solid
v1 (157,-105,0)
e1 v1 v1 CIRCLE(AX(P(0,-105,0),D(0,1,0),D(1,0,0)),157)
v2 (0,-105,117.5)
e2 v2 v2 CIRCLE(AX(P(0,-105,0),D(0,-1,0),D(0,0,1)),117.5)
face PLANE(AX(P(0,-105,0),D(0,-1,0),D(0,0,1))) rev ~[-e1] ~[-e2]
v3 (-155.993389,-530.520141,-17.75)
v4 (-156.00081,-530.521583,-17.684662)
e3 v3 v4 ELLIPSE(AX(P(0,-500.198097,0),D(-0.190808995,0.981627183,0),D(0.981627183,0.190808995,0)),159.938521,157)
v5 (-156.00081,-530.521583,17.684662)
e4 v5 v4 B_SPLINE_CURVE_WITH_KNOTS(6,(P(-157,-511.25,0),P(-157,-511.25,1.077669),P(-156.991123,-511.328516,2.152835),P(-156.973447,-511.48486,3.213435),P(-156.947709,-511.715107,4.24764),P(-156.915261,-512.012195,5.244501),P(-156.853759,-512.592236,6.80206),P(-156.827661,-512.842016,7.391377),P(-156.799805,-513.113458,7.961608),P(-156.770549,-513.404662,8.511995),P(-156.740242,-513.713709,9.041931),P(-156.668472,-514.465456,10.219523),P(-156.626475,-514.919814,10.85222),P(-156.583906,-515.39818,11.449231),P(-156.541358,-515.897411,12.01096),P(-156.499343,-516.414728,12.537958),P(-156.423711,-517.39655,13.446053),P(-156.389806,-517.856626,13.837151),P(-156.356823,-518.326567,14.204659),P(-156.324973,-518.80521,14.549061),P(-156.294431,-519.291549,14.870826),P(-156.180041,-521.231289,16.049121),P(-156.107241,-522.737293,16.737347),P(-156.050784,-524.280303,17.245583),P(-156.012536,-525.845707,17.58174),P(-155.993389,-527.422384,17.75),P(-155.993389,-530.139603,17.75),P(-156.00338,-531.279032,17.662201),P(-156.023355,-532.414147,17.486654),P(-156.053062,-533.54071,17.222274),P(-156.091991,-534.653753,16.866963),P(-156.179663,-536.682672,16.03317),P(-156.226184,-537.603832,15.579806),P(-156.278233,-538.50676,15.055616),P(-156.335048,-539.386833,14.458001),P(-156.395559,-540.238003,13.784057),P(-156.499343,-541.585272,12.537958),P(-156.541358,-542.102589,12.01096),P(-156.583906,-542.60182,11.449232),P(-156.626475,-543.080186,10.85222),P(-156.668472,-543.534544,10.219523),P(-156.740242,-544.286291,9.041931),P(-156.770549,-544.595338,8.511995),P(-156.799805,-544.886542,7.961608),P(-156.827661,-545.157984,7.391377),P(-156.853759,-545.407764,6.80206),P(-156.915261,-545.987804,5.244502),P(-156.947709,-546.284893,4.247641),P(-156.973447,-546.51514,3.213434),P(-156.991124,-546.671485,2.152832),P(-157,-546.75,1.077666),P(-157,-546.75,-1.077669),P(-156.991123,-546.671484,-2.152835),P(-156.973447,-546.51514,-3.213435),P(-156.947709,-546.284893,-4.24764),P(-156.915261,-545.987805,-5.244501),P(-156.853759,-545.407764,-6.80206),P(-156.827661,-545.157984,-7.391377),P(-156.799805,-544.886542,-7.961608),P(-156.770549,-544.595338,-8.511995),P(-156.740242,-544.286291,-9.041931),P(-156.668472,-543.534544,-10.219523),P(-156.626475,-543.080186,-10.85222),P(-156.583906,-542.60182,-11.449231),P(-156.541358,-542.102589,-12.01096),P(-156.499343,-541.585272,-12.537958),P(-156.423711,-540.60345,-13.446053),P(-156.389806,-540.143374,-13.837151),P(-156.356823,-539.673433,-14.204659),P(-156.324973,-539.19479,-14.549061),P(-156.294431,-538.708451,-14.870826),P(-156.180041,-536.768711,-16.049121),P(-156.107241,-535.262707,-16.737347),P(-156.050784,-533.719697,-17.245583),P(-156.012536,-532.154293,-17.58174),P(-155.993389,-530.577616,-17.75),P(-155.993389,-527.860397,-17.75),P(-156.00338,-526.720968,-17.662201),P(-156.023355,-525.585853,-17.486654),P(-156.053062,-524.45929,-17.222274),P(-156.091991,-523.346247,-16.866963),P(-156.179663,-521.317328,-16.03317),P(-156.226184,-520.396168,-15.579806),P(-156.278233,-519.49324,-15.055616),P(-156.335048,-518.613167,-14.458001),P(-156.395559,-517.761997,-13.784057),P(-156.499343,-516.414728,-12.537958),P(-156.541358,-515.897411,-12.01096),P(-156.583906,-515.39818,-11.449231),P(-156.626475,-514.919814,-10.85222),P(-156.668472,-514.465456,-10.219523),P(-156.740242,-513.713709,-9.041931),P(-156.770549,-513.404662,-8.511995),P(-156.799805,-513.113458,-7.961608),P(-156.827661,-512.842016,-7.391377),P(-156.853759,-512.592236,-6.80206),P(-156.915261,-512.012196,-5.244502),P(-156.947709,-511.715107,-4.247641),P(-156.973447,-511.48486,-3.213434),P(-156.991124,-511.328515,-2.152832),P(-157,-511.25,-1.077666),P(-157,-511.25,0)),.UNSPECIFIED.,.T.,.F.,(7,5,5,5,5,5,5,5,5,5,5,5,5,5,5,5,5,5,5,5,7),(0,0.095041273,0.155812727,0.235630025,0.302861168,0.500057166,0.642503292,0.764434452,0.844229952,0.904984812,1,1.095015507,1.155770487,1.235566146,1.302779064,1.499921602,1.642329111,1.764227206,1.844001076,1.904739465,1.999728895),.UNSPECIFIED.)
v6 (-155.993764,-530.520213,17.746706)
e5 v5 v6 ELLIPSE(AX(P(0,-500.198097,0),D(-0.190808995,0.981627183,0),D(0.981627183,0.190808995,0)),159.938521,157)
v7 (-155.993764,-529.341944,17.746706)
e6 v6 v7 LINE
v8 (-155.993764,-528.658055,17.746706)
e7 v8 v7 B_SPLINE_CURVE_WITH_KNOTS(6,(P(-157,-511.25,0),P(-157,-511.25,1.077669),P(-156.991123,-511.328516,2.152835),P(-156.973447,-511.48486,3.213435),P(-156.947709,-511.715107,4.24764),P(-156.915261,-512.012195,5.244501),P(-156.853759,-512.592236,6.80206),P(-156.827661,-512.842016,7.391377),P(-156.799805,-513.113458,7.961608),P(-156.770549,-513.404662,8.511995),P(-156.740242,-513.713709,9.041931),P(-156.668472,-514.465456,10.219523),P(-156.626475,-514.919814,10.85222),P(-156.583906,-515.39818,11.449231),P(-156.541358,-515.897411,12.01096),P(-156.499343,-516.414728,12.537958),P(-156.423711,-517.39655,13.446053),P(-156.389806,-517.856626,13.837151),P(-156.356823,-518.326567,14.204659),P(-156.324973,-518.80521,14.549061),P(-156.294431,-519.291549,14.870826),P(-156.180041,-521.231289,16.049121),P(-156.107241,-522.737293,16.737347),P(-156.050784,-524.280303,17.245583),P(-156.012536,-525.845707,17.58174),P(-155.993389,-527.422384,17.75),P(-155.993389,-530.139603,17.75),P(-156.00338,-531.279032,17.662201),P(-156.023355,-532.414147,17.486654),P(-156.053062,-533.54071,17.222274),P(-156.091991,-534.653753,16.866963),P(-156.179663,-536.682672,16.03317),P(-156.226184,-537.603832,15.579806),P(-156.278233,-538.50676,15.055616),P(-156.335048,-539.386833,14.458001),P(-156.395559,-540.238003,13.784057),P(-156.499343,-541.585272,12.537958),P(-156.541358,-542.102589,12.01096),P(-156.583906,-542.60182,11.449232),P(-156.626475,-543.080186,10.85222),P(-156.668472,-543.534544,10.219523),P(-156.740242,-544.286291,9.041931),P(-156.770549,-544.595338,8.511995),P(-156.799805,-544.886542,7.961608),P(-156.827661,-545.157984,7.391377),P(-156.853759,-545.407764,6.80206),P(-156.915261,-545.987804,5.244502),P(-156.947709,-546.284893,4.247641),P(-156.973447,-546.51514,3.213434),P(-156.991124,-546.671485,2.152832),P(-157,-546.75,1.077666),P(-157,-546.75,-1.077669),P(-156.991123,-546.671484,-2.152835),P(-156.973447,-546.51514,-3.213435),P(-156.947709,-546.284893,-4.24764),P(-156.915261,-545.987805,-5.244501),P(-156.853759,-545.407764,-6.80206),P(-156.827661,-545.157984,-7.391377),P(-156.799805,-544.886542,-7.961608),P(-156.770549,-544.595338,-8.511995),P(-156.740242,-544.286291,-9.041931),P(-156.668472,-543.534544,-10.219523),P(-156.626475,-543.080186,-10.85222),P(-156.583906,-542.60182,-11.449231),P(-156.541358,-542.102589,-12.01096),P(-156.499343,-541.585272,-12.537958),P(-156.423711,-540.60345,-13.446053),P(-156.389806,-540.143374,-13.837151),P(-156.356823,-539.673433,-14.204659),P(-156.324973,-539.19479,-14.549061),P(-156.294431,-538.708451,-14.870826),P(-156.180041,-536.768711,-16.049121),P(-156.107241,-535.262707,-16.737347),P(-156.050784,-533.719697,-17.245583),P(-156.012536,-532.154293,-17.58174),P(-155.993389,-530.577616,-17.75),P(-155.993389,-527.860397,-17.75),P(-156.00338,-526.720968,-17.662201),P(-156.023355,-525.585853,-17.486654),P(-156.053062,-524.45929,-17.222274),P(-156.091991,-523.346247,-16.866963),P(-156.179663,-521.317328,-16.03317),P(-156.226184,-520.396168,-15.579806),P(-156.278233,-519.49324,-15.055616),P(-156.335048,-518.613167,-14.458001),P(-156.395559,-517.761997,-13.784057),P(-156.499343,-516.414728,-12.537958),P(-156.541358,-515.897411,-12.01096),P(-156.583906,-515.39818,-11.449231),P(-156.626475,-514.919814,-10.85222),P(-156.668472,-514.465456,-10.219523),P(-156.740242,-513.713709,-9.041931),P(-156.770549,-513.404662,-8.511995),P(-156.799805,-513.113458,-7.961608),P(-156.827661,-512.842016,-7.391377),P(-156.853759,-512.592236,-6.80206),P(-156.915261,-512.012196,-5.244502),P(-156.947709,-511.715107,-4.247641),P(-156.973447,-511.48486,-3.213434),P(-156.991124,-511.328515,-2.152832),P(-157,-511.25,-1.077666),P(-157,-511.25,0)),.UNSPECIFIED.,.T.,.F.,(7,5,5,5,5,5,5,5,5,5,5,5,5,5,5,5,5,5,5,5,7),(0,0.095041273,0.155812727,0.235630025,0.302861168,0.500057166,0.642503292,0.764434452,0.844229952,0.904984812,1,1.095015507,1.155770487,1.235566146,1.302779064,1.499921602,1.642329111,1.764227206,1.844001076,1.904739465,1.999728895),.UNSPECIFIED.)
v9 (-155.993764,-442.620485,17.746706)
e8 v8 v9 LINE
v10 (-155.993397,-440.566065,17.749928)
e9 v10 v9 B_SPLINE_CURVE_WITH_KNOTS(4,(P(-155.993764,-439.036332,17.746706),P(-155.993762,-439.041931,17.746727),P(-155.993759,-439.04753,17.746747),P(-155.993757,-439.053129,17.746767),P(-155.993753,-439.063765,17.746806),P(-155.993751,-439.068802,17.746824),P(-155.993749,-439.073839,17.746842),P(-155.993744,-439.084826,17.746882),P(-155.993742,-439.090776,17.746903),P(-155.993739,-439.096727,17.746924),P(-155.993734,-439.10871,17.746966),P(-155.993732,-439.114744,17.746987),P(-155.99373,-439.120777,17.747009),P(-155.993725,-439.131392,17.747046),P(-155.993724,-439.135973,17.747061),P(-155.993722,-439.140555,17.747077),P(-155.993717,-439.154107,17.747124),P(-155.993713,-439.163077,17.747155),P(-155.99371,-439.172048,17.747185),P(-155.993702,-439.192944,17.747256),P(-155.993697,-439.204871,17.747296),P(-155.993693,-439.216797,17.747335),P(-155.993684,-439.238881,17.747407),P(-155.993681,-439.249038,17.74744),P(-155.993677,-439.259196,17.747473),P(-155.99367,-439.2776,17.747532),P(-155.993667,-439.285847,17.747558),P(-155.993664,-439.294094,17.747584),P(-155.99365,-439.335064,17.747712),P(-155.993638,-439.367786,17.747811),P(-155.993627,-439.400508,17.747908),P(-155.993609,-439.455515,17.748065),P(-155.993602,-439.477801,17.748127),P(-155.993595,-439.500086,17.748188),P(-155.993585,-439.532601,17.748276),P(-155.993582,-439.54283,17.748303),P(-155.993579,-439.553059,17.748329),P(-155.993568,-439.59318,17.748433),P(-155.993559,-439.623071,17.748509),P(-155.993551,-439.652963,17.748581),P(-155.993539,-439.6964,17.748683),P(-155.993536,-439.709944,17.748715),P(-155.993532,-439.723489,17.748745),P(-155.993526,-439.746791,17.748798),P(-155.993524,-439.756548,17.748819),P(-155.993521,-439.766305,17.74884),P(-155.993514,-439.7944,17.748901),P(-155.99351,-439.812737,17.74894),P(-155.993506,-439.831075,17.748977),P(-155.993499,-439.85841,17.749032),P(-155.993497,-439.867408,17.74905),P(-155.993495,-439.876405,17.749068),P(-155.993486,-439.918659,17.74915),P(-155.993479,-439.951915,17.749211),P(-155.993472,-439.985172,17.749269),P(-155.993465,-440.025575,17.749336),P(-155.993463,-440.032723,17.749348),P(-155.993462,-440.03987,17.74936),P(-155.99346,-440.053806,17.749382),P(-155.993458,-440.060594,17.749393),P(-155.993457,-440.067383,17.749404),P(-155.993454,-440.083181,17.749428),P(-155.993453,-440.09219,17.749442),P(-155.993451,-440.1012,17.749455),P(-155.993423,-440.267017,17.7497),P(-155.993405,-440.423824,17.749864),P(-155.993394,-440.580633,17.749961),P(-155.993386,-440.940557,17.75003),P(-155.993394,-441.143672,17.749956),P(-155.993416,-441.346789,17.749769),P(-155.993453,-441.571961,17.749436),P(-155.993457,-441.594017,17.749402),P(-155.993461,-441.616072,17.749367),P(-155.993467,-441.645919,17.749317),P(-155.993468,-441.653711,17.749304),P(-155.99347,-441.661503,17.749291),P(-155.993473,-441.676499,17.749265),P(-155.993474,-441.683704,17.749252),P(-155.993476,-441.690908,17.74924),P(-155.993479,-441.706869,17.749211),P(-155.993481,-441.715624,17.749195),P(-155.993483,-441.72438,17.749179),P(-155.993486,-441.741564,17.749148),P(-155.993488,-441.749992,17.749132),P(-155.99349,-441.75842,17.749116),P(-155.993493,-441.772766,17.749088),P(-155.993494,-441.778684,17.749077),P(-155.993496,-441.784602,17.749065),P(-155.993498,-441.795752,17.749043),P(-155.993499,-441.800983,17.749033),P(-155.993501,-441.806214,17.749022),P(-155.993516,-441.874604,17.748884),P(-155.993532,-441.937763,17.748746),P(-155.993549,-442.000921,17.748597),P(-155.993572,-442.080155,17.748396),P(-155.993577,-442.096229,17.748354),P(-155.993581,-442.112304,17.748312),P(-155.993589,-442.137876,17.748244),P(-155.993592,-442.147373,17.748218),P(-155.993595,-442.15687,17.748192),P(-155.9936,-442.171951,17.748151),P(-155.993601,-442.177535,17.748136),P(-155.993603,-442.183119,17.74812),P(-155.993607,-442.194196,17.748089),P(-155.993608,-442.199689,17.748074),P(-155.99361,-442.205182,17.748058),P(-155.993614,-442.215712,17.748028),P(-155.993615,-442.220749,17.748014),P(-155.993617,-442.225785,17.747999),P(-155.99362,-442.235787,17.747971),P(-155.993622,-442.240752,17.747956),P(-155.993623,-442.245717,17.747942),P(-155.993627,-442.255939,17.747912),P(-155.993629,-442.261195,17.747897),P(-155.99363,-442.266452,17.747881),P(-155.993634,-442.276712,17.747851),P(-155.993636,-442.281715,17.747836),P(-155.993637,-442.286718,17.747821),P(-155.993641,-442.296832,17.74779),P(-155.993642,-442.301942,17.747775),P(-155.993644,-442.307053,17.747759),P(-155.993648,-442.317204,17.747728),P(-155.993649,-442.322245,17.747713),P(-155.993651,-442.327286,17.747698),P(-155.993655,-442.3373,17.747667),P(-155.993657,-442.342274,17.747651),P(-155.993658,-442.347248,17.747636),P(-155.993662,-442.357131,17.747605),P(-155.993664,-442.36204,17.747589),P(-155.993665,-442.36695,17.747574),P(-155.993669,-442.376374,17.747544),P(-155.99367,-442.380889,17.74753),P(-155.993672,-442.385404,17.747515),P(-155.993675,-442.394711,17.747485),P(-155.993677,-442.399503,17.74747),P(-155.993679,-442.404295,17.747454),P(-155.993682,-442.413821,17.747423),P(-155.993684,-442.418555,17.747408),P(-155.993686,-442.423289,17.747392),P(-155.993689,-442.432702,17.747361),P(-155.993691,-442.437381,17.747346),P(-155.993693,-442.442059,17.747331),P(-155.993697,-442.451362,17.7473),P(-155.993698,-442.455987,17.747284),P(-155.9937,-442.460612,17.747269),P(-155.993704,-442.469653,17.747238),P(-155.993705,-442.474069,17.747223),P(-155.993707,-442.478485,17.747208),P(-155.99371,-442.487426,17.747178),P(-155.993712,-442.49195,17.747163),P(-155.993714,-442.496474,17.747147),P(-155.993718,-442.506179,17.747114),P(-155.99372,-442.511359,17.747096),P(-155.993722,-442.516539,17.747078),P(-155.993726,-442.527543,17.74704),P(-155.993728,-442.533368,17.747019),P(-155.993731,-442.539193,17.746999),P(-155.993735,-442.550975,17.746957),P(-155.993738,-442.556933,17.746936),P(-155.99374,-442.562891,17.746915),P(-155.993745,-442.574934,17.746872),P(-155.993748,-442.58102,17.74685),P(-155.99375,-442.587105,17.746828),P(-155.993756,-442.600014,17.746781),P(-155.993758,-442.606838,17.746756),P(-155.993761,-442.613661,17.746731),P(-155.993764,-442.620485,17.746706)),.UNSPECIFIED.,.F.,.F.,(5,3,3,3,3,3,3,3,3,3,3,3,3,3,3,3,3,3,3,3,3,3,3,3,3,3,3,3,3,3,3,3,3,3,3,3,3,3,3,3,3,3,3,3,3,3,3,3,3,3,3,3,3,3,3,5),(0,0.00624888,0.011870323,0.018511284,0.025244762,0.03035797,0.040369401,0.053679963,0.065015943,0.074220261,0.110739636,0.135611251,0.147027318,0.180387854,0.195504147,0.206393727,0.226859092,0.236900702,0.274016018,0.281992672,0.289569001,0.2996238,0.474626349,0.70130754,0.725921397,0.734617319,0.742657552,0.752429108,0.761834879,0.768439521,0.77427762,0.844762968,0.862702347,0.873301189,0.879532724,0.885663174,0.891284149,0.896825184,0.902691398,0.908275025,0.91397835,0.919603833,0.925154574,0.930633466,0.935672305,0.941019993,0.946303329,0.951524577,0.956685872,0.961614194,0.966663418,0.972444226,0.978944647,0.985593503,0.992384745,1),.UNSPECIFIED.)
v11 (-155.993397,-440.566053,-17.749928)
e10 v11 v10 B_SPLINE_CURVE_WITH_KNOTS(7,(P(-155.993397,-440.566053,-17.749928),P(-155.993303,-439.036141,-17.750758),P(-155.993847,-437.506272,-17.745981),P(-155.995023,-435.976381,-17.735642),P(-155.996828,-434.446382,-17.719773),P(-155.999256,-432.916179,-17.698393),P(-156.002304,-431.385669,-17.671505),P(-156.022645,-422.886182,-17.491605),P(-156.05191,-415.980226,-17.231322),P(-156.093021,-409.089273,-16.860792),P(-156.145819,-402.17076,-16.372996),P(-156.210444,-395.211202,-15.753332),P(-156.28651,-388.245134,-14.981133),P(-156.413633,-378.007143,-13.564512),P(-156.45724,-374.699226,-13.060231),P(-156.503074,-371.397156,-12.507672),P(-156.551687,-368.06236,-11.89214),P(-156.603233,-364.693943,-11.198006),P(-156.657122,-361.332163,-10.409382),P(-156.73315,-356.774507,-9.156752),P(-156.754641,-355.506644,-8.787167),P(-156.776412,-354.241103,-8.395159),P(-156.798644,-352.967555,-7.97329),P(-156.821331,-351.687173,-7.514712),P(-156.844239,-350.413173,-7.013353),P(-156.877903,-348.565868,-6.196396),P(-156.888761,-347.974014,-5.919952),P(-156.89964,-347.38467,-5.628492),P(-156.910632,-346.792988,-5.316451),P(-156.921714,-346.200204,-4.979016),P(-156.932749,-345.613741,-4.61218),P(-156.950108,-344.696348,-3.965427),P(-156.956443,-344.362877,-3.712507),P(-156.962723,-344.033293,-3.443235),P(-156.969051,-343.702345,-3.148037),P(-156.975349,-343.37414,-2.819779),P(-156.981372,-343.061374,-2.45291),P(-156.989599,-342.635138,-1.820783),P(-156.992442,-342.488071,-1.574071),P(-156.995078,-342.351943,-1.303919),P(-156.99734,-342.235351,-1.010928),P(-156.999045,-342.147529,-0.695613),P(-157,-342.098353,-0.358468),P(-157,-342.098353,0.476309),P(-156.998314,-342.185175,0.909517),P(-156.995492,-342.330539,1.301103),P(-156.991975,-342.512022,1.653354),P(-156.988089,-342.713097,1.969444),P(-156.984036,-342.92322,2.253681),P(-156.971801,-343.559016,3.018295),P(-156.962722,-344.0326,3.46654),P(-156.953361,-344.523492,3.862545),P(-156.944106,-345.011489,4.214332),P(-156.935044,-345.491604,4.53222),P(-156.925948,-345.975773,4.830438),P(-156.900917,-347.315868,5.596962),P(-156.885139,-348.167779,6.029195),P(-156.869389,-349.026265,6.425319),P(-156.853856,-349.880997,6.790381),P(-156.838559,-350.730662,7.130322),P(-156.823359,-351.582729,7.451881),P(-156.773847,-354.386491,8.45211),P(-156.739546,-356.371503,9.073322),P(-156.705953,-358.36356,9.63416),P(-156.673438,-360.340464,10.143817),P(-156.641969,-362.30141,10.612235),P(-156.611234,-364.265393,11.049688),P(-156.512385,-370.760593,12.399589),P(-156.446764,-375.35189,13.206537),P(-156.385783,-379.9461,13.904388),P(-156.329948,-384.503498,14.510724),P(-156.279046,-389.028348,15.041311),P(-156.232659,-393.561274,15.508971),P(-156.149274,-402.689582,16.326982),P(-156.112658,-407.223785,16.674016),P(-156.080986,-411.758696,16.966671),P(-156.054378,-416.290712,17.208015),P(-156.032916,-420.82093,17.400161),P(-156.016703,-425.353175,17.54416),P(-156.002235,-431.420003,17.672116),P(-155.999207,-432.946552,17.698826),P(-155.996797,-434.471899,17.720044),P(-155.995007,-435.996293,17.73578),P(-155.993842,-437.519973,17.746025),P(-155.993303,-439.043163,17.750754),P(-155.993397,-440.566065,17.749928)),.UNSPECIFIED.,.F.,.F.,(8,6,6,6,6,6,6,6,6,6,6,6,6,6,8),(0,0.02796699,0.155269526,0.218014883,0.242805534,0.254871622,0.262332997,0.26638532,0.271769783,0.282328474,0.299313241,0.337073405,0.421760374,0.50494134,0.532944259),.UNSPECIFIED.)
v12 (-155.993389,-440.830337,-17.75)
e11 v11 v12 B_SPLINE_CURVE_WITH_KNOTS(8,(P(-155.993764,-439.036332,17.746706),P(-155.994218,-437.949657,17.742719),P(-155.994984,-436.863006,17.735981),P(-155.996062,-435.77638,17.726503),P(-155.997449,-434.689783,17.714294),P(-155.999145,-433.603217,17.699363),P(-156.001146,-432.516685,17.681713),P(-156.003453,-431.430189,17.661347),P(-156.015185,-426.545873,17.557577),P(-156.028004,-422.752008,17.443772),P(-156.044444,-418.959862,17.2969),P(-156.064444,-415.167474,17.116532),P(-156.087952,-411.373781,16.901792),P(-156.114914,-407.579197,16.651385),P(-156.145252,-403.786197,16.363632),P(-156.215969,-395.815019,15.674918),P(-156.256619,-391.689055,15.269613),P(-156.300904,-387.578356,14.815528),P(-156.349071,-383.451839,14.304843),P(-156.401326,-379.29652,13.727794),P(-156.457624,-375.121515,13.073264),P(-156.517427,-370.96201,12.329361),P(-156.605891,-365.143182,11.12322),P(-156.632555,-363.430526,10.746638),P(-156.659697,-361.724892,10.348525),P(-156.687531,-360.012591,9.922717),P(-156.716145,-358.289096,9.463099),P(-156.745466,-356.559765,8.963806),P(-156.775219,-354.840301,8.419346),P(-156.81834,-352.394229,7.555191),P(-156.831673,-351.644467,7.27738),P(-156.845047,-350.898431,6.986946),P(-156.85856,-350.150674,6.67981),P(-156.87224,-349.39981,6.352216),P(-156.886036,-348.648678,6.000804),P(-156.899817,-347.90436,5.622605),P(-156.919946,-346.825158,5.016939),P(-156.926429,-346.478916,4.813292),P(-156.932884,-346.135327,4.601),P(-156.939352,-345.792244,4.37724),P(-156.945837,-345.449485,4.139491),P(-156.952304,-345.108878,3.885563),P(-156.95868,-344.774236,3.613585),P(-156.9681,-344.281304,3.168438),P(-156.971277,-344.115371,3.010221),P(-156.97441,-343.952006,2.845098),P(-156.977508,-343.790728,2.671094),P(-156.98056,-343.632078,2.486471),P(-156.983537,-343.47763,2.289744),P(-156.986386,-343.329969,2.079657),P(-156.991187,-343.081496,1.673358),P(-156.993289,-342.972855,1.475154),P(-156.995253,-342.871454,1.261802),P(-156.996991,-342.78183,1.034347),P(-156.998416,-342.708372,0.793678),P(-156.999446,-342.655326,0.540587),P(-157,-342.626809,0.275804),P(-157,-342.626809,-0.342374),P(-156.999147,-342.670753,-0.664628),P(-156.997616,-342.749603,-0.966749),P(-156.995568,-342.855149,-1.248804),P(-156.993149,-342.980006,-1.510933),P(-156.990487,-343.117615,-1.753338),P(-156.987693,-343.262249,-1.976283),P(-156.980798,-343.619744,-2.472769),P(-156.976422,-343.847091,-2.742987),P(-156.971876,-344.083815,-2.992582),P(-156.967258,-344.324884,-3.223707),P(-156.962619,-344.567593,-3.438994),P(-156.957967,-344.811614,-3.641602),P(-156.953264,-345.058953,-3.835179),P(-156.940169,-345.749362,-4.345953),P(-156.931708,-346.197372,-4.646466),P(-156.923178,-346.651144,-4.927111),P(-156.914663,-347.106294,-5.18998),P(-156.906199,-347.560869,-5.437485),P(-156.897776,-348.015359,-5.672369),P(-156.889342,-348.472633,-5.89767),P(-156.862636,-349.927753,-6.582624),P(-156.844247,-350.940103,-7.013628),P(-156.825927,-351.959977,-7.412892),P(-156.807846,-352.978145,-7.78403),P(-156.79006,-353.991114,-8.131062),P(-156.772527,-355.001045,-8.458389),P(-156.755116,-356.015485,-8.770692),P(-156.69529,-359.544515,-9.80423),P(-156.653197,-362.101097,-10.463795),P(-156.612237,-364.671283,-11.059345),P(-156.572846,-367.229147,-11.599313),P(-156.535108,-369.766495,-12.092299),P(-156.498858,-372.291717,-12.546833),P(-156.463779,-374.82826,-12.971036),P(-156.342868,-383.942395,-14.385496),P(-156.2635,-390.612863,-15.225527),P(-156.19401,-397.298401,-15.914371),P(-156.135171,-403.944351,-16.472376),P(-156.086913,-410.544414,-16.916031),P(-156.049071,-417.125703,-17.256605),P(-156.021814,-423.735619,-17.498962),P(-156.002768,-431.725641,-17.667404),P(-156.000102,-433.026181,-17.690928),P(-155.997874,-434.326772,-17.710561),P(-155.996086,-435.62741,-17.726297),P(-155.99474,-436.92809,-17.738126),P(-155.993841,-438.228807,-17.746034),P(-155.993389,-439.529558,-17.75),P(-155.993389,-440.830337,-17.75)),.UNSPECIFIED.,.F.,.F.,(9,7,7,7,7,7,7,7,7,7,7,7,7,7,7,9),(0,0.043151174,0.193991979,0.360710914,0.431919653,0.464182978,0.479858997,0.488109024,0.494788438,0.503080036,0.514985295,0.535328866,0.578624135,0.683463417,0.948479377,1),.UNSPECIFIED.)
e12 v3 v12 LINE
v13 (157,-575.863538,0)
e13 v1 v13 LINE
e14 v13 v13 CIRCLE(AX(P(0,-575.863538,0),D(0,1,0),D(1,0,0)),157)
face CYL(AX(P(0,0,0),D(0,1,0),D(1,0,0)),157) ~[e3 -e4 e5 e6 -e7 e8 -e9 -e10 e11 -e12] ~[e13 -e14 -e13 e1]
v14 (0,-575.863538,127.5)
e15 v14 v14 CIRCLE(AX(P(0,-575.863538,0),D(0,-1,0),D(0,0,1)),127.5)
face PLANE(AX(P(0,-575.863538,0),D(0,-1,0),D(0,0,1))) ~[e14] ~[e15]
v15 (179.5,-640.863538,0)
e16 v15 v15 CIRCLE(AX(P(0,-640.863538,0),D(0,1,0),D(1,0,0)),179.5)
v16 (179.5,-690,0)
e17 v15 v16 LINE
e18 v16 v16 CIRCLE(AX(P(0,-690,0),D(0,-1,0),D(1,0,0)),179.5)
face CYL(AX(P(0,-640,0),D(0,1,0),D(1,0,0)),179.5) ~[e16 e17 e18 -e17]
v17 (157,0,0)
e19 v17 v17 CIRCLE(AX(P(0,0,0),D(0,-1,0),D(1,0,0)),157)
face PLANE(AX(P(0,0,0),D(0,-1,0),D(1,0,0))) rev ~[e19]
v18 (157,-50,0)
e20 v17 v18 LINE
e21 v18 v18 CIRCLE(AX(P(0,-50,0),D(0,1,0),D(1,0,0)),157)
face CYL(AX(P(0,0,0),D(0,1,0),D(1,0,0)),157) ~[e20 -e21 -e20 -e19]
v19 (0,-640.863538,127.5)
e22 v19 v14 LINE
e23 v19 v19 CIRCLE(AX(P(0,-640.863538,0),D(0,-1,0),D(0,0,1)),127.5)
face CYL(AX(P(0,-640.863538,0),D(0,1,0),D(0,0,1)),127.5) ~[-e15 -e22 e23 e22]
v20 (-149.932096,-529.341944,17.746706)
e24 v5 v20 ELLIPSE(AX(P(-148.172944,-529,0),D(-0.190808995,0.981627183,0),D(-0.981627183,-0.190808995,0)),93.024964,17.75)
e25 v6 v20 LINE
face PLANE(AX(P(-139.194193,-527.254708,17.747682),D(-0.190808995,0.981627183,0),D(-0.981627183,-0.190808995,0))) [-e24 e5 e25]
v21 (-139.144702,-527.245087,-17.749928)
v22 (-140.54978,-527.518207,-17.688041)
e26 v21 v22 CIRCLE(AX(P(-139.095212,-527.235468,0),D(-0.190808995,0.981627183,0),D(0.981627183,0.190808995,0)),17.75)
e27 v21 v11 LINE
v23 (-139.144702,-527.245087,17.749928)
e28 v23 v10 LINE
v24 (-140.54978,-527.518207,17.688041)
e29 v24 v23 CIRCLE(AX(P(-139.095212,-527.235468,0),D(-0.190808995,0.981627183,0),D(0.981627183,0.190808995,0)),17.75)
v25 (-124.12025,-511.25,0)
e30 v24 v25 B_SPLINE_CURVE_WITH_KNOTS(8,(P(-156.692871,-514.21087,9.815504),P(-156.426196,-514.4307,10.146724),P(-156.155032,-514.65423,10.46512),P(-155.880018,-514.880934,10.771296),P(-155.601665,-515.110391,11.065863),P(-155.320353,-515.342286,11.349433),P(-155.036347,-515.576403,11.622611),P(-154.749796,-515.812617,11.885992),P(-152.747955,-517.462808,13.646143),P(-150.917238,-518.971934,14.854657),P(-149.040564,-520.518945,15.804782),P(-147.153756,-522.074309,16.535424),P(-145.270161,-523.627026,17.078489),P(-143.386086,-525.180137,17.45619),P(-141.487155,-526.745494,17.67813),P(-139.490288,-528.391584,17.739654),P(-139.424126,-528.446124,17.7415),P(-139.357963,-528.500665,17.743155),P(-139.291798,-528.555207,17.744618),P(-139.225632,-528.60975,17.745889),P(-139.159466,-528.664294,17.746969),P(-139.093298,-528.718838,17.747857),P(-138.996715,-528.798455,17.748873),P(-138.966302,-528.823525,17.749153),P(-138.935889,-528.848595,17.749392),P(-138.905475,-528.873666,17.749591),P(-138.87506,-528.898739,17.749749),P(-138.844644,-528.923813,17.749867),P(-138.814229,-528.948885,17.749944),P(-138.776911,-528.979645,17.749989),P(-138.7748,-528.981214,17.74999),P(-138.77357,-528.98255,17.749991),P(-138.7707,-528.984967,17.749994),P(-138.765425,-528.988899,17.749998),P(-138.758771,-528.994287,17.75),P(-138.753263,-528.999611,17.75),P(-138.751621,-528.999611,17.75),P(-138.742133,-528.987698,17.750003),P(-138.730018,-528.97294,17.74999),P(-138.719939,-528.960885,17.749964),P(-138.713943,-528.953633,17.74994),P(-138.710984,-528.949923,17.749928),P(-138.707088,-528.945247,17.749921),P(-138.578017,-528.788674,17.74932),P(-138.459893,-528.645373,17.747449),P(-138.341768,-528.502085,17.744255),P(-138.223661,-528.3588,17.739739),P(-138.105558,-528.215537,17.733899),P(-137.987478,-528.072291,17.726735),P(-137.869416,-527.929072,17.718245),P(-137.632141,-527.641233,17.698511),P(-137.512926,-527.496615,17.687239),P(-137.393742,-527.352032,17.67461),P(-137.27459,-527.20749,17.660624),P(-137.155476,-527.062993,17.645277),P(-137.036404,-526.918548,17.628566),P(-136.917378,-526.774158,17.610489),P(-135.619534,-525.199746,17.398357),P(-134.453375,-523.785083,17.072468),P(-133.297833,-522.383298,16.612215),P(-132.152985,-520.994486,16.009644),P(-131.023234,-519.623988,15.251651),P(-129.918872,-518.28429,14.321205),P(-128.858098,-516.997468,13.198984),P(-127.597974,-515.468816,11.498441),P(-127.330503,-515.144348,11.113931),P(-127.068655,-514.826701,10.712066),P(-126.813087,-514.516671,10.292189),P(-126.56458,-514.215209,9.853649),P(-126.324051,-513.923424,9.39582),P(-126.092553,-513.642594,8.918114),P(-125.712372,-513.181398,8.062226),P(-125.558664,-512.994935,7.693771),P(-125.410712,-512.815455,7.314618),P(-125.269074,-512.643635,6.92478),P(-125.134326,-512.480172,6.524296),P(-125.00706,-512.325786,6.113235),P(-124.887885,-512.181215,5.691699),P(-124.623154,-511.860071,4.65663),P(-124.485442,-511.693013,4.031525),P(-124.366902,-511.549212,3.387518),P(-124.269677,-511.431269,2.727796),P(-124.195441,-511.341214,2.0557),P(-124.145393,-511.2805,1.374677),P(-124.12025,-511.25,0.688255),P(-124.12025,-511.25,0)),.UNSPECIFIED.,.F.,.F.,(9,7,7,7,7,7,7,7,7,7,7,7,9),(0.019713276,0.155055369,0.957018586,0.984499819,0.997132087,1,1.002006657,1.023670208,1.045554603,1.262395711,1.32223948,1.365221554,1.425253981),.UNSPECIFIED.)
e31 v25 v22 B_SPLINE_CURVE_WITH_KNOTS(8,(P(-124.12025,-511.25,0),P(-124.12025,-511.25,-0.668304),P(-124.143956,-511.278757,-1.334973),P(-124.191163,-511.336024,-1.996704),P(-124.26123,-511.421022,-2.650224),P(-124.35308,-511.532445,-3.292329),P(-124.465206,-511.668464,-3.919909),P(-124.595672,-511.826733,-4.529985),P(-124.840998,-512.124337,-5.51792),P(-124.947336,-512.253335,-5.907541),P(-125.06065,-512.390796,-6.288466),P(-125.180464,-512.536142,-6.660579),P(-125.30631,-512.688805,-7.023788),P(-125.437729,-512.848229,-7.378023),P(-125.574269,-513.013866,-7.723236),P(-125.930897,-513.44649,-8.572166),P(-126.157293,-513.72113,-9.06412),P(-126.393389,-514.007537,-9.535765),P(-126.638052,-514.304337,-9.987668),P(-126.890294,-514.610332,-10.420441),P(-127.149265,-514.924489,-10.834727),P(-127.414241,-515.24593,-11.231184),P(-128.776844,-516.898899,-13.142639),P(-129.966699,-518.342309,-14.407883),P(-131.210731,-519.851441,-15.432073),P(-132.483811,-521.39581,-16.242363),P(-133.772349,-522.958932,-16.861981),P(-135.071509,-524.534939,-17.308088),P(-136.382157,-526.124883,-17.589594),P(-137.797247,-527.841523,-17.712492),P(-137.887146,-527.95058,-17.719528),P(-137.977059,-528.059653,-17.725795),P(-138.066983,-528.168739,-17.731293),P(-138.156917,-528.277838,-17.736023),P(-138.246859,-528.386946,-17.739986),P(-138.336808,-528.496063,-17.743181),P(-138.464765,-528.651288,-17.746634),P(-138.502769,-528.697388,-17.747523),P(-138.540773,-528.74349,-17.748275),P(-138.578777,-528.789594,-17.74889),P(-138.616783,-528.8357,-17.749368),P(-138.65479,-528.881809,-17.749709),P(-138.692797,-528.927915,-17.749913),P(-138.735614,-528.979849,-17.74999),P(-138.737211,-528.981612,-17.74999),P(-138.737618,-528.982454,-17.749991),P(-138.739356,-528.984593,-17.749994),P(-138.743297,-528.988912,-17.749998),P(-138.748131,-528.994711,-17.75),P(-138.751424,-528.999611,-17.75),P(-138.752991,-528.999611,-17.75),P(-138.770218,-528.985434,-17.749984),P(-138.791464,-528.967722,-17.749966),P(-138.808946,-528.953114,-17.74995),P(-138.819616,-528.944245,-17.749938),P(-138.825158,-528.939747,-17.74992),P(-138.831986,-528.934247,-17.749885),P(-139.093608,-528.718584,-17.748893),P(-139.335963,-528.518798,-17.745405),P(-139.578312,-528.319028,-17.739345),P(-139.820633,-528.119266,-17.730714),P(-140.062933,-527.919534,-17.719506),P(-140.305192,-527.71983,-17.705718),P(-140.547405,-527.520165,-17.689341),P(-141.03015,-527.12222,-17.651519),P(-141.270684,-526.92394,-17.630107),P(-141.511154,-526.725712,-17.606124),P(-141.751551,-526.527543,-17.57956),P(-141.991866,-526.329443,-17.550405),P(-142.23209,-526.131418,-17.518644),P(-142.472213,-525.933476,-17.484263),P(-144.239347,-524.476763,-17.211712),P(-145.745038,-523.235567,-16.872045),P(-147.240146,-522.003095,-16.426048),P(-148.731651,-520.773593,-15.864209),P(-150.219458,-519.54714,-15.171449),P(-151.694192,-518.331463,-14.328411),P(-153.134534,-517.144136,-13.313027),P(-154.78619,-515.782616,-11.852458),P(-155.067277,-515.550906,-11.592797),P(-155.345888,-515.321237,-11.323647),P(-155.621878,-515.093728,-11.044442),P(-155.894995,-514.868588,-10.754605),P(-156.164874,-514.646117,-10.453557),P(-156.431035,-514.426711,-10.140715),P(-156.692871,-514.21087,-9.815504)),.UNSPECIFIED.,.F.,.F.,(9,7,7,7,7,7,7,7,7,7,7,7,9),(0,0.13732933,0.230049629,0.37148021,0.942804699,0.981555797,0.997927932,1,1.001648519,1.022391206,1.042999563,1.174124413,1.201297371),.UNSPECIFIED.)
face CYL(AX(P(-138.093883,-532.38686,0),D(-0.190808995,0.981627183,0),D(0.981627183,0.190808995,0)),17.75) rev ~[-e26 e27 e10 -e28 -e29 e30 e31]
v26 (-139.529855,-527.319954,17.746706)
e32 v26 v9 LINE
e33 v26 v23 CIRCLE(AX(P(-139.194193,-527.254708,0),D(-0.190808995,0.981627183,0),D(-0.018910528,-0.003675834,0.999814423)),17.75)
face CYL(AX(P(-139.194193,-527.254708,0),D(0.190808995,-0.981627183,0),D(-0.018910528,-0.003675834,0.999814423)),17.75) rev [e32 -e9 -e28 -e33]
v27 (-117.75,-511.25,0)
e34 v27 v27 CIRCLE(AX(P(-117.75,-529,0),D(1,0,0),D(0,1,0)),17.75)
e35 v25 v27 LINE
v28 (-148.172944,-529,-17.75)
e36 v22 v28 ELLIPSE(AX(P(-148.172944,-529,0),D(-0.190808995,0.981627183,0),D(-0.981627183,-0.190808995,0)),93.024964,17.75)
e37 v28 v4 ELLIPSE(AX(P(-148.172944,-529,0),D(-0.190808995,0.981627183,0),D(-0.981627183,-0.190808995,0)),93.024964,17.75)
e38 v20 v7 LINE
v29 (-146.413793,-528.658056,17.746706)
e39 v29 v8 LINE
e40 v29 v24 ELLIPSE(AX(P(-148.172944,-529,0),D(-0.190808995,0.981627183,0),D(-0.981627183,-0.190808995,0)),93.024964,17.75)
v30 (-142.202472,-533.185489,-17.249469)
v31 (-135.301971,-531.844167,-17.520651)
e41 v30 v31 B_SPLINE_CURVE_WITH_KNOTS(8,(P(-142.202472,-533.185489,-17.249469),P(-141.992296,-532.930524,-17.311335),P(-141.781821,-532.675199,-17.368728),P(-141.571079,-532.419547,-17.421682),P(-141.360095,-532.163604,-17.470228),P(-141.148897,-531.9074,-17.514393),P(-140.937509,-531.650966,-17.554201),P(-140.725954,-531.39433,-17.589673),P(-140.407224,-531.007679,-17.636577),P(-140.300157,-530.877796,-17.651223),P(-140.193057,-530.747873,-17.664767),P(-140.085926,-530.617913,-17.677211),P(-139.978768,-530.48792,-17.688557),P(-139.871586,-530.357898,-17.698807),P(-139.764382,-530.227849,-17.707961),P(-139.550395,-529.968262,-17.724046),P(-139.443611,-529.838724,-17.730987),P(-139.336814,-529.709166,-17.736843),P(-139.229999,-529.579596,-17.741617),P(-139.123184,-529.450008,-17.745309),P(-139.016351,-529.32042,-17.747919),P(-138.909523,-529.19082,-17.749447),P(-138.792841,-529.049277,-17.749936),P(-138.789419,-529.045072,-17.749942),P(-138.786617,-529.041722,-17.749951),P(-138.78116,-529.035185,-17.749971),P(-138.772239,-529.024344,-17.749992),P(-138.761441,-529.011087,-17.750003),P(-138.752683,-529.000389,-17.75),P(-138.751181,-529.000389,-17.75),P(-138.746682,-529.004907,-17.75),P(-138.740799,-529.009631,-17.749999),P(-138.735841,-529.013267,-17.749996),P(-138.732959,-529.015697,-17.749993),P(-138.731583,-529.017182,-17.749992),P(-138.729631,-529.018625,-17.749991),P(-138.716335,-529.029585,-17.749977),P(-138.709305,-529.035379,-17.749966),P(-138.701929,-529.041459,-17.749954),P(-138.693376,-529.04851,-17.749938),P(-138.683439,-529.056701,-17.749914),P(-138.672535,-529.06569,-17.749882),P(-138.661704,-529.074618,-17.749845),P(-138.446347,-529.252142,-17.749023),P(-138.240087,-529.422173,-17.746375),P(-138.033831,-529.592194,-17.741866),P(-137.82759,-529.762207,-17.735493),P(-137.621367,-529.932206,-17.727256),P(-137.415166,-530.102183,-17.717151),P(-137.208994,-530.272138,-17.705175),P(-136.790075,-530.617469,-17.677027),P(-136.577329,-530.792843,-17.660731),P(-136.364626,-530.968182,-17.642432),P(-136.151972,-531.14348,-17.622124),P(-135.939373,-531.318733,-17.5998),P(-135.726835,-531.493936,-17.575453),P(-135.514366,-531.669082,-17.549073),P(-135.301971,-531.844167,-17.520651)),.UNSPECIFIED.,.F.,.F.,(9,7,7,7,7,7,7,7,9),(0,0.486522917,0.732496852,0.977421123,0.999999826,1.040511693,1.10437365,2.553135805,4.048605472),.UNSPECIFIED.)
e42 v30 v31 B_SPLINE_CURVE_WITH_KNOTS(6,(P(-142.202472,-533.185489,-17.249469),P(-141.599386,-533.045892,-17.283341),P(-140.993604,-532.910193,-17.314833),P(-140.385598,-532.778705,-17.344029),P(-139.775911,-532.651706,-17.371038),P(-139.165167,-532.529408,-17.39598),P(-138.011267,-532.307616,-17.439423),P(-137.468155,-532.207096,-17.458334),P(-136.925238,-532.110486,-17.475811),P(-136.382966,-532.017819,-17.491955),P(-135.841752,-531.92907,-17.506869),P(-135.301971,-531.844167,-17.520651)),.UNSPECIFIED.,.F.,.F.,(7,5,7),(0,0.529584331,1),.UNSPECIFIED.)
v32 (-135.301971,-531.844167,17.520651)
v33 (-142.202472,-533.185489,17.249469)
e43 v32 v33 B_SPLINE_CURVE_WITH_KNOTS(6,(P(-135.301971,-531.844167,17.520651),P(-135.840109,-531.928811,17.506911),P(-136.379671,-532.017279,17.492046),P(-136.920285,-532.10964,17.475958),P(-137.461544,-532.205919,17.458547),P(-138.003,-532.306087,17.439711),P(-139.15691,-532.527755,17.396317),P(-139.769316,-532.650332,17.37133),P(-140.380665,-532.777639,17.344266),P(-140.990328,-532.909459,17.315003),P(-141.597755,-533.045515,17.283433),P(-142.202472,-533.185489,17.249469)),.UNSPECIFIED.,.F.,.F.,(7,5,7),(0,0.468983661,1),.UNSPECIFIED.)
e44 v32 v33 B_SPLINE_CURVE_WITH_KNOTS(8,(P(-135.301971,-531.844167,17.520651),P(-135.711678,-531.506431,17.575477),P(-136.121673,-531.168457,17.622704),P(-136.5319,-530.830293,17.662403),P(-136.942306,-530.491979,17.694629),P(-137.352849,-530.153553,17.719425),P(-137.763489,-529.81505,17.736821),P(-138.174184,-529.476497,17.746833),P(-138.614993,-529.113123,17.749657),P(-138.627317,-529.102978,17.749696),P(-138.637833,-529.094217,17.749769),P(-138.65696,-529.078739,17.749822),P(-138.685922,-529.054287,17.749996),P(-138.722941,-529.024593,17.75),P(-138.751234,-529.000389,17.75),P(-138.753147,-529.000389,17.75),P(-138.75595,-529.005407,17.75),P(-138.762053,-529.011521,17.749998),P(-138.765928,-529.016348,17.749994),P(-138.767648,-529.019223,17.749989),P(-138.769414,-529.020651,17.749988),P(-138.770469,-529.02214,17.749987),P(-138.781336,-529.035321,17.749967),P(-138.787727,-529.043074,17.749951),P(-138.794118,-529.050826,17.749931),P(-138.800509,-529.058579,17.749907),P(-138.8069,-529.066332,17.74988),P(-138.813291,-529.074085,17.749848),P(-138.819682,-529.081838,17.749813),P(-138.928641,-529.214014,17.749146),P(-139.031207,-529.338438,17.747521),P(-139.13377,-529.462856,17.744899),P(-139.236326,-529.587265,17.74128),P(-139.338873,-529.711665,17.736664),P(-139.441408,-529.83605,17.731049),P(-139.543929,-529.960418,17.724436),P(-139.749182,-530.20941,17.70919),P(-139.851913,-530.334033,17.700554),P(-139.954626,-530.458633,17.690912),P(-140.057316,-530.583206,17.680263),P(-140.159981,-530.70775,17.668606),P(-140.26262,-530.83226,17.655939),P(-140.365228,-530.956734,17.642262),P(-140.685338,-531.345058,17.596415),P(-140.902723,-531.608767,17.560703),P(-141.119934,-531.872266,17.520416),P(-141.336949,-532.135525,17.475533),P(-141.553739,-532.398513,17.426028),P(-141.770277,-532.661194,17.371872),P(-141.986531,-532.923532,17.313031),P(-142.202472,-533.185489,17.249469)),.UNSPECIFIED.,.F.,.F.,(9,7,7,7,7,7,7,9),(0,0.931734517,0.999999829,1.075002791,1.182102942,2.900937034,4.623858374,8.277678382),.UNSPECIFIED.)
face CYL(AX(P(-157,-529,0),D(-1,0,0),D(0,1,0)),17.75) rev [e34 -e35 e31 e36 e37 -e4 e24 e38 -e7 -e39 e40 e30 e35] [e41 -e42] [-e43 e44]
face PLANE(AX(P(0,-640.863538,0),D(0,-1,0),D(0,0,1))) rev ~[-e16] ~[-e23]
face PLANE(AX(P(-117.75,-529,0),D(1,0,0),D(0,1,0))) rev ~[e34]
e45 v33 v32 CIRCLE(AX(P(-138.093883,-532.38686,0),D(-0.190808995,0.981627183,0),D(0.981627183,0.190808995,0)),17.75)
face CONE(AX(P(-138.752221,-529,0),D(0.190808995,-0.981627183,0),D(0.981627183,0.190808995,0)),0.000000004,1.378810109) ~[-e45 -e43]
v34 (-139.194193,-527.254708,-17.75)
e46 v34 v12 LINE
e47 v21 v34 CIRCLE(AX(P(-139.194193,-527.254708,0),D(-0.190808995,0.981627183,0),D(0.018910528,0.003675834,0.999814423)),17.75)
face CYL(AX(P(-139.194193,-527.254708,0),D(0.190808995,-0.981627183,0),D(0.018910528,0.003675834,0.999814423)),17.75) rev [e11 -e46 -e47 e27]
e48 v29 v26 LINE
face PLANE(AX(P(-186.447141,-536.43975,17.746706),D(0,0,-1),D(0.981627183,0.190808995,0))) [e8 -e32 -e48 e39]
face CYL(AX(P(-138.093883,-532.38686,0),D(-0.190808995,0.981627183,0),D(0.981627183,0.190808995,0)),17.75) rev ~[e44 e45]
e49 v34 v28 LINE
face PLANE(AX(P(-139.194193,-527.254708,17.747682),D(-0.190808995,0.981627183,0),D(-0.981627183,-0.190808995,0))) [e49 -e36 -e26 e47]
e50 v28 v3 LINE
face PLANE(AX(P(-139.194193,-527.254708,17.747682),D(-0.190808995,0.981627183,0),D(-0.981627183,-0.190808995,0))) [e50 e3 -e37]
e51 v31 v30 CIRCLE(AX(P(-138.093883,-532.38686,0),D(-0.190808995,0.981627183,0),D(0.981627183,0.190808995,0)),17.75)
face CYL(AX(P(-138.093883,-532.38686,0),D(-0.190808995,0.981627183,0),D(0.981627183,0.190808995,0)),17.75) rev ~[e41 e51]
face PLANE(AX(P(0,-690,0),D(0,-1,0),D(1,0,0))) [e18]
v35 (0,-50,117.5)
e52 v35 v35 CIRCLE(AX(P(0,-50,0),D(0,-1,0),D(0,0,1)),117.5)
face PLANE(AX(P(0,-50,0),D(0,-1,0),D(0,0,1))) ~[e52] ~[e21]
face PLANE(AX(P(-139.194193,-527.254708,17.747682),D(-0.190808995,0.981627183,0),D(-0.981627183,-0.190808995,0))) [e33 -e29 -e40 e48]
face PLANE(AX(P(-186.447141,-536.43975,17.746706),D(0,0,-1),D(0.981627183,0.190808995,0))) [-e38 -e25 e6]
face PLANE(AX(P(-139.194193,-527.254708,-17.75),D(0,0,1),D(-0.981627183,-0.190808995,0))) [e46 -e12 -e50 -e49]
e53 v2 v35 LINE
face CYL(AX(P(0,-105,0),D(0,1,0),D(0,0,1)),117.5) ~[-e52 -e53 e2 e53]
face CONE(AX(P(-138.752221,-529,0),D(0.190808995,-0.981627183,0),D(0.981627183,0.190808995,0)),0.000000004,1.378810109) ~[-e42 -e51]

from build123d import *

# Parameters (mm, degrees)
F0_R      = 157
F1_DEPTH  = 640
F2_R      = 179.5
F3_DEPTH  = 50
F7_R      = 17.75
F8_DEPTH  = 39.25
F15_DEPTH = 237.6


with BuildPart() as f1:
    # F0 (on Front) → F1 (new body)
    with BuildSketch(Plane.XZ):
        Circle(F0_R)
    extrude(amount=F1_DEPTH)

    # F2 (on face) → F3 (join)
    with BuildSketch(Plane.XZ.offset(640)):
        Circle(F2_R)
    extrude(amount=F3_DEPTH)

    # F4 (on Right) → F5 (revolve, cut)
    with BuildSketch(Plane.YZ):
        Polygon((-50, 117.5), (-50, 175.9304246068), (-105, 176.5382785822), (-105, 117.5), align=None)
        Polygon((-575.8635377884, 127.5), (-575.8635377884, 204.0864402056), (-640.8635377884, 217.1958261728), (-640.8635377884, 127.5), align=None)
    revolve(axis=Axis((0, -347.832351923, 0), (0, -1, 0)), mode=Mode.SUBTRACT)

    # F7 (on offset) → F8 (cut)
    with BuildSketch(Plane.YZ.offset(-157)):
        with Locations((-529, 0)):
            Circle(F7_R)
    extrude(amount=F8_DEPTH, mode=Mode.SUBTRACT)

    # F9 (on Top) → F10 (revolve, cut)
    with BuildSketch(Plane.XY):
        Polygon((-188.8352518344, -271.3451443148), (-138.7522213355, -529), (-120.67, -529), (-171.4113693282, -267.9582846469), align=None)
    revolve(axis=Axis((-163.4645671703, -401.8660019914, 0), (-0.1908089954, 0.9816271834, 0)), mode=Mode.SUBTRACT)

    # F14 (on offset) → F15 (cut)
    with BuildSketch(Plane(origin=(93.6887526256, -481.9868485712, 0), x_dir=(-0.9816271834, -0.1908089954, 0), z_dir=(-0.1908089954, 0.9816271834, 0))):
        with BuildLine():
            Line((236.8998006375, 17.7467060058), (237.5836893528, 17.7467060058))
            ThreePointArc((237.5836893528, 17.7467060058), (237.2417449951, 17.75), (236.8998006375, 17.7467060058))
        make_face()
        with BuildLine():
            Line((285.3791117668, 17.7467060058), (237.5836893528, 17.7467060058))
            Line((237.5836893528, 17.7467060058), (236.8998006375, 17.7467060058))
            ThreePointArc((236.8998006375, 17.7467060058), (219.4925685128, -0.1709801115), (237.2417449951, -17.75))
            Line((237.2417449951, -17.75), (285.3791117668, -17.75))
            Line((285.3791117668, -17.75), (285.3791117668, 17.7467060058))
        make_face()
    extrude(amount=F15_DEPTH, mode=Mode.SUBTRACT)


solid = f1.part
